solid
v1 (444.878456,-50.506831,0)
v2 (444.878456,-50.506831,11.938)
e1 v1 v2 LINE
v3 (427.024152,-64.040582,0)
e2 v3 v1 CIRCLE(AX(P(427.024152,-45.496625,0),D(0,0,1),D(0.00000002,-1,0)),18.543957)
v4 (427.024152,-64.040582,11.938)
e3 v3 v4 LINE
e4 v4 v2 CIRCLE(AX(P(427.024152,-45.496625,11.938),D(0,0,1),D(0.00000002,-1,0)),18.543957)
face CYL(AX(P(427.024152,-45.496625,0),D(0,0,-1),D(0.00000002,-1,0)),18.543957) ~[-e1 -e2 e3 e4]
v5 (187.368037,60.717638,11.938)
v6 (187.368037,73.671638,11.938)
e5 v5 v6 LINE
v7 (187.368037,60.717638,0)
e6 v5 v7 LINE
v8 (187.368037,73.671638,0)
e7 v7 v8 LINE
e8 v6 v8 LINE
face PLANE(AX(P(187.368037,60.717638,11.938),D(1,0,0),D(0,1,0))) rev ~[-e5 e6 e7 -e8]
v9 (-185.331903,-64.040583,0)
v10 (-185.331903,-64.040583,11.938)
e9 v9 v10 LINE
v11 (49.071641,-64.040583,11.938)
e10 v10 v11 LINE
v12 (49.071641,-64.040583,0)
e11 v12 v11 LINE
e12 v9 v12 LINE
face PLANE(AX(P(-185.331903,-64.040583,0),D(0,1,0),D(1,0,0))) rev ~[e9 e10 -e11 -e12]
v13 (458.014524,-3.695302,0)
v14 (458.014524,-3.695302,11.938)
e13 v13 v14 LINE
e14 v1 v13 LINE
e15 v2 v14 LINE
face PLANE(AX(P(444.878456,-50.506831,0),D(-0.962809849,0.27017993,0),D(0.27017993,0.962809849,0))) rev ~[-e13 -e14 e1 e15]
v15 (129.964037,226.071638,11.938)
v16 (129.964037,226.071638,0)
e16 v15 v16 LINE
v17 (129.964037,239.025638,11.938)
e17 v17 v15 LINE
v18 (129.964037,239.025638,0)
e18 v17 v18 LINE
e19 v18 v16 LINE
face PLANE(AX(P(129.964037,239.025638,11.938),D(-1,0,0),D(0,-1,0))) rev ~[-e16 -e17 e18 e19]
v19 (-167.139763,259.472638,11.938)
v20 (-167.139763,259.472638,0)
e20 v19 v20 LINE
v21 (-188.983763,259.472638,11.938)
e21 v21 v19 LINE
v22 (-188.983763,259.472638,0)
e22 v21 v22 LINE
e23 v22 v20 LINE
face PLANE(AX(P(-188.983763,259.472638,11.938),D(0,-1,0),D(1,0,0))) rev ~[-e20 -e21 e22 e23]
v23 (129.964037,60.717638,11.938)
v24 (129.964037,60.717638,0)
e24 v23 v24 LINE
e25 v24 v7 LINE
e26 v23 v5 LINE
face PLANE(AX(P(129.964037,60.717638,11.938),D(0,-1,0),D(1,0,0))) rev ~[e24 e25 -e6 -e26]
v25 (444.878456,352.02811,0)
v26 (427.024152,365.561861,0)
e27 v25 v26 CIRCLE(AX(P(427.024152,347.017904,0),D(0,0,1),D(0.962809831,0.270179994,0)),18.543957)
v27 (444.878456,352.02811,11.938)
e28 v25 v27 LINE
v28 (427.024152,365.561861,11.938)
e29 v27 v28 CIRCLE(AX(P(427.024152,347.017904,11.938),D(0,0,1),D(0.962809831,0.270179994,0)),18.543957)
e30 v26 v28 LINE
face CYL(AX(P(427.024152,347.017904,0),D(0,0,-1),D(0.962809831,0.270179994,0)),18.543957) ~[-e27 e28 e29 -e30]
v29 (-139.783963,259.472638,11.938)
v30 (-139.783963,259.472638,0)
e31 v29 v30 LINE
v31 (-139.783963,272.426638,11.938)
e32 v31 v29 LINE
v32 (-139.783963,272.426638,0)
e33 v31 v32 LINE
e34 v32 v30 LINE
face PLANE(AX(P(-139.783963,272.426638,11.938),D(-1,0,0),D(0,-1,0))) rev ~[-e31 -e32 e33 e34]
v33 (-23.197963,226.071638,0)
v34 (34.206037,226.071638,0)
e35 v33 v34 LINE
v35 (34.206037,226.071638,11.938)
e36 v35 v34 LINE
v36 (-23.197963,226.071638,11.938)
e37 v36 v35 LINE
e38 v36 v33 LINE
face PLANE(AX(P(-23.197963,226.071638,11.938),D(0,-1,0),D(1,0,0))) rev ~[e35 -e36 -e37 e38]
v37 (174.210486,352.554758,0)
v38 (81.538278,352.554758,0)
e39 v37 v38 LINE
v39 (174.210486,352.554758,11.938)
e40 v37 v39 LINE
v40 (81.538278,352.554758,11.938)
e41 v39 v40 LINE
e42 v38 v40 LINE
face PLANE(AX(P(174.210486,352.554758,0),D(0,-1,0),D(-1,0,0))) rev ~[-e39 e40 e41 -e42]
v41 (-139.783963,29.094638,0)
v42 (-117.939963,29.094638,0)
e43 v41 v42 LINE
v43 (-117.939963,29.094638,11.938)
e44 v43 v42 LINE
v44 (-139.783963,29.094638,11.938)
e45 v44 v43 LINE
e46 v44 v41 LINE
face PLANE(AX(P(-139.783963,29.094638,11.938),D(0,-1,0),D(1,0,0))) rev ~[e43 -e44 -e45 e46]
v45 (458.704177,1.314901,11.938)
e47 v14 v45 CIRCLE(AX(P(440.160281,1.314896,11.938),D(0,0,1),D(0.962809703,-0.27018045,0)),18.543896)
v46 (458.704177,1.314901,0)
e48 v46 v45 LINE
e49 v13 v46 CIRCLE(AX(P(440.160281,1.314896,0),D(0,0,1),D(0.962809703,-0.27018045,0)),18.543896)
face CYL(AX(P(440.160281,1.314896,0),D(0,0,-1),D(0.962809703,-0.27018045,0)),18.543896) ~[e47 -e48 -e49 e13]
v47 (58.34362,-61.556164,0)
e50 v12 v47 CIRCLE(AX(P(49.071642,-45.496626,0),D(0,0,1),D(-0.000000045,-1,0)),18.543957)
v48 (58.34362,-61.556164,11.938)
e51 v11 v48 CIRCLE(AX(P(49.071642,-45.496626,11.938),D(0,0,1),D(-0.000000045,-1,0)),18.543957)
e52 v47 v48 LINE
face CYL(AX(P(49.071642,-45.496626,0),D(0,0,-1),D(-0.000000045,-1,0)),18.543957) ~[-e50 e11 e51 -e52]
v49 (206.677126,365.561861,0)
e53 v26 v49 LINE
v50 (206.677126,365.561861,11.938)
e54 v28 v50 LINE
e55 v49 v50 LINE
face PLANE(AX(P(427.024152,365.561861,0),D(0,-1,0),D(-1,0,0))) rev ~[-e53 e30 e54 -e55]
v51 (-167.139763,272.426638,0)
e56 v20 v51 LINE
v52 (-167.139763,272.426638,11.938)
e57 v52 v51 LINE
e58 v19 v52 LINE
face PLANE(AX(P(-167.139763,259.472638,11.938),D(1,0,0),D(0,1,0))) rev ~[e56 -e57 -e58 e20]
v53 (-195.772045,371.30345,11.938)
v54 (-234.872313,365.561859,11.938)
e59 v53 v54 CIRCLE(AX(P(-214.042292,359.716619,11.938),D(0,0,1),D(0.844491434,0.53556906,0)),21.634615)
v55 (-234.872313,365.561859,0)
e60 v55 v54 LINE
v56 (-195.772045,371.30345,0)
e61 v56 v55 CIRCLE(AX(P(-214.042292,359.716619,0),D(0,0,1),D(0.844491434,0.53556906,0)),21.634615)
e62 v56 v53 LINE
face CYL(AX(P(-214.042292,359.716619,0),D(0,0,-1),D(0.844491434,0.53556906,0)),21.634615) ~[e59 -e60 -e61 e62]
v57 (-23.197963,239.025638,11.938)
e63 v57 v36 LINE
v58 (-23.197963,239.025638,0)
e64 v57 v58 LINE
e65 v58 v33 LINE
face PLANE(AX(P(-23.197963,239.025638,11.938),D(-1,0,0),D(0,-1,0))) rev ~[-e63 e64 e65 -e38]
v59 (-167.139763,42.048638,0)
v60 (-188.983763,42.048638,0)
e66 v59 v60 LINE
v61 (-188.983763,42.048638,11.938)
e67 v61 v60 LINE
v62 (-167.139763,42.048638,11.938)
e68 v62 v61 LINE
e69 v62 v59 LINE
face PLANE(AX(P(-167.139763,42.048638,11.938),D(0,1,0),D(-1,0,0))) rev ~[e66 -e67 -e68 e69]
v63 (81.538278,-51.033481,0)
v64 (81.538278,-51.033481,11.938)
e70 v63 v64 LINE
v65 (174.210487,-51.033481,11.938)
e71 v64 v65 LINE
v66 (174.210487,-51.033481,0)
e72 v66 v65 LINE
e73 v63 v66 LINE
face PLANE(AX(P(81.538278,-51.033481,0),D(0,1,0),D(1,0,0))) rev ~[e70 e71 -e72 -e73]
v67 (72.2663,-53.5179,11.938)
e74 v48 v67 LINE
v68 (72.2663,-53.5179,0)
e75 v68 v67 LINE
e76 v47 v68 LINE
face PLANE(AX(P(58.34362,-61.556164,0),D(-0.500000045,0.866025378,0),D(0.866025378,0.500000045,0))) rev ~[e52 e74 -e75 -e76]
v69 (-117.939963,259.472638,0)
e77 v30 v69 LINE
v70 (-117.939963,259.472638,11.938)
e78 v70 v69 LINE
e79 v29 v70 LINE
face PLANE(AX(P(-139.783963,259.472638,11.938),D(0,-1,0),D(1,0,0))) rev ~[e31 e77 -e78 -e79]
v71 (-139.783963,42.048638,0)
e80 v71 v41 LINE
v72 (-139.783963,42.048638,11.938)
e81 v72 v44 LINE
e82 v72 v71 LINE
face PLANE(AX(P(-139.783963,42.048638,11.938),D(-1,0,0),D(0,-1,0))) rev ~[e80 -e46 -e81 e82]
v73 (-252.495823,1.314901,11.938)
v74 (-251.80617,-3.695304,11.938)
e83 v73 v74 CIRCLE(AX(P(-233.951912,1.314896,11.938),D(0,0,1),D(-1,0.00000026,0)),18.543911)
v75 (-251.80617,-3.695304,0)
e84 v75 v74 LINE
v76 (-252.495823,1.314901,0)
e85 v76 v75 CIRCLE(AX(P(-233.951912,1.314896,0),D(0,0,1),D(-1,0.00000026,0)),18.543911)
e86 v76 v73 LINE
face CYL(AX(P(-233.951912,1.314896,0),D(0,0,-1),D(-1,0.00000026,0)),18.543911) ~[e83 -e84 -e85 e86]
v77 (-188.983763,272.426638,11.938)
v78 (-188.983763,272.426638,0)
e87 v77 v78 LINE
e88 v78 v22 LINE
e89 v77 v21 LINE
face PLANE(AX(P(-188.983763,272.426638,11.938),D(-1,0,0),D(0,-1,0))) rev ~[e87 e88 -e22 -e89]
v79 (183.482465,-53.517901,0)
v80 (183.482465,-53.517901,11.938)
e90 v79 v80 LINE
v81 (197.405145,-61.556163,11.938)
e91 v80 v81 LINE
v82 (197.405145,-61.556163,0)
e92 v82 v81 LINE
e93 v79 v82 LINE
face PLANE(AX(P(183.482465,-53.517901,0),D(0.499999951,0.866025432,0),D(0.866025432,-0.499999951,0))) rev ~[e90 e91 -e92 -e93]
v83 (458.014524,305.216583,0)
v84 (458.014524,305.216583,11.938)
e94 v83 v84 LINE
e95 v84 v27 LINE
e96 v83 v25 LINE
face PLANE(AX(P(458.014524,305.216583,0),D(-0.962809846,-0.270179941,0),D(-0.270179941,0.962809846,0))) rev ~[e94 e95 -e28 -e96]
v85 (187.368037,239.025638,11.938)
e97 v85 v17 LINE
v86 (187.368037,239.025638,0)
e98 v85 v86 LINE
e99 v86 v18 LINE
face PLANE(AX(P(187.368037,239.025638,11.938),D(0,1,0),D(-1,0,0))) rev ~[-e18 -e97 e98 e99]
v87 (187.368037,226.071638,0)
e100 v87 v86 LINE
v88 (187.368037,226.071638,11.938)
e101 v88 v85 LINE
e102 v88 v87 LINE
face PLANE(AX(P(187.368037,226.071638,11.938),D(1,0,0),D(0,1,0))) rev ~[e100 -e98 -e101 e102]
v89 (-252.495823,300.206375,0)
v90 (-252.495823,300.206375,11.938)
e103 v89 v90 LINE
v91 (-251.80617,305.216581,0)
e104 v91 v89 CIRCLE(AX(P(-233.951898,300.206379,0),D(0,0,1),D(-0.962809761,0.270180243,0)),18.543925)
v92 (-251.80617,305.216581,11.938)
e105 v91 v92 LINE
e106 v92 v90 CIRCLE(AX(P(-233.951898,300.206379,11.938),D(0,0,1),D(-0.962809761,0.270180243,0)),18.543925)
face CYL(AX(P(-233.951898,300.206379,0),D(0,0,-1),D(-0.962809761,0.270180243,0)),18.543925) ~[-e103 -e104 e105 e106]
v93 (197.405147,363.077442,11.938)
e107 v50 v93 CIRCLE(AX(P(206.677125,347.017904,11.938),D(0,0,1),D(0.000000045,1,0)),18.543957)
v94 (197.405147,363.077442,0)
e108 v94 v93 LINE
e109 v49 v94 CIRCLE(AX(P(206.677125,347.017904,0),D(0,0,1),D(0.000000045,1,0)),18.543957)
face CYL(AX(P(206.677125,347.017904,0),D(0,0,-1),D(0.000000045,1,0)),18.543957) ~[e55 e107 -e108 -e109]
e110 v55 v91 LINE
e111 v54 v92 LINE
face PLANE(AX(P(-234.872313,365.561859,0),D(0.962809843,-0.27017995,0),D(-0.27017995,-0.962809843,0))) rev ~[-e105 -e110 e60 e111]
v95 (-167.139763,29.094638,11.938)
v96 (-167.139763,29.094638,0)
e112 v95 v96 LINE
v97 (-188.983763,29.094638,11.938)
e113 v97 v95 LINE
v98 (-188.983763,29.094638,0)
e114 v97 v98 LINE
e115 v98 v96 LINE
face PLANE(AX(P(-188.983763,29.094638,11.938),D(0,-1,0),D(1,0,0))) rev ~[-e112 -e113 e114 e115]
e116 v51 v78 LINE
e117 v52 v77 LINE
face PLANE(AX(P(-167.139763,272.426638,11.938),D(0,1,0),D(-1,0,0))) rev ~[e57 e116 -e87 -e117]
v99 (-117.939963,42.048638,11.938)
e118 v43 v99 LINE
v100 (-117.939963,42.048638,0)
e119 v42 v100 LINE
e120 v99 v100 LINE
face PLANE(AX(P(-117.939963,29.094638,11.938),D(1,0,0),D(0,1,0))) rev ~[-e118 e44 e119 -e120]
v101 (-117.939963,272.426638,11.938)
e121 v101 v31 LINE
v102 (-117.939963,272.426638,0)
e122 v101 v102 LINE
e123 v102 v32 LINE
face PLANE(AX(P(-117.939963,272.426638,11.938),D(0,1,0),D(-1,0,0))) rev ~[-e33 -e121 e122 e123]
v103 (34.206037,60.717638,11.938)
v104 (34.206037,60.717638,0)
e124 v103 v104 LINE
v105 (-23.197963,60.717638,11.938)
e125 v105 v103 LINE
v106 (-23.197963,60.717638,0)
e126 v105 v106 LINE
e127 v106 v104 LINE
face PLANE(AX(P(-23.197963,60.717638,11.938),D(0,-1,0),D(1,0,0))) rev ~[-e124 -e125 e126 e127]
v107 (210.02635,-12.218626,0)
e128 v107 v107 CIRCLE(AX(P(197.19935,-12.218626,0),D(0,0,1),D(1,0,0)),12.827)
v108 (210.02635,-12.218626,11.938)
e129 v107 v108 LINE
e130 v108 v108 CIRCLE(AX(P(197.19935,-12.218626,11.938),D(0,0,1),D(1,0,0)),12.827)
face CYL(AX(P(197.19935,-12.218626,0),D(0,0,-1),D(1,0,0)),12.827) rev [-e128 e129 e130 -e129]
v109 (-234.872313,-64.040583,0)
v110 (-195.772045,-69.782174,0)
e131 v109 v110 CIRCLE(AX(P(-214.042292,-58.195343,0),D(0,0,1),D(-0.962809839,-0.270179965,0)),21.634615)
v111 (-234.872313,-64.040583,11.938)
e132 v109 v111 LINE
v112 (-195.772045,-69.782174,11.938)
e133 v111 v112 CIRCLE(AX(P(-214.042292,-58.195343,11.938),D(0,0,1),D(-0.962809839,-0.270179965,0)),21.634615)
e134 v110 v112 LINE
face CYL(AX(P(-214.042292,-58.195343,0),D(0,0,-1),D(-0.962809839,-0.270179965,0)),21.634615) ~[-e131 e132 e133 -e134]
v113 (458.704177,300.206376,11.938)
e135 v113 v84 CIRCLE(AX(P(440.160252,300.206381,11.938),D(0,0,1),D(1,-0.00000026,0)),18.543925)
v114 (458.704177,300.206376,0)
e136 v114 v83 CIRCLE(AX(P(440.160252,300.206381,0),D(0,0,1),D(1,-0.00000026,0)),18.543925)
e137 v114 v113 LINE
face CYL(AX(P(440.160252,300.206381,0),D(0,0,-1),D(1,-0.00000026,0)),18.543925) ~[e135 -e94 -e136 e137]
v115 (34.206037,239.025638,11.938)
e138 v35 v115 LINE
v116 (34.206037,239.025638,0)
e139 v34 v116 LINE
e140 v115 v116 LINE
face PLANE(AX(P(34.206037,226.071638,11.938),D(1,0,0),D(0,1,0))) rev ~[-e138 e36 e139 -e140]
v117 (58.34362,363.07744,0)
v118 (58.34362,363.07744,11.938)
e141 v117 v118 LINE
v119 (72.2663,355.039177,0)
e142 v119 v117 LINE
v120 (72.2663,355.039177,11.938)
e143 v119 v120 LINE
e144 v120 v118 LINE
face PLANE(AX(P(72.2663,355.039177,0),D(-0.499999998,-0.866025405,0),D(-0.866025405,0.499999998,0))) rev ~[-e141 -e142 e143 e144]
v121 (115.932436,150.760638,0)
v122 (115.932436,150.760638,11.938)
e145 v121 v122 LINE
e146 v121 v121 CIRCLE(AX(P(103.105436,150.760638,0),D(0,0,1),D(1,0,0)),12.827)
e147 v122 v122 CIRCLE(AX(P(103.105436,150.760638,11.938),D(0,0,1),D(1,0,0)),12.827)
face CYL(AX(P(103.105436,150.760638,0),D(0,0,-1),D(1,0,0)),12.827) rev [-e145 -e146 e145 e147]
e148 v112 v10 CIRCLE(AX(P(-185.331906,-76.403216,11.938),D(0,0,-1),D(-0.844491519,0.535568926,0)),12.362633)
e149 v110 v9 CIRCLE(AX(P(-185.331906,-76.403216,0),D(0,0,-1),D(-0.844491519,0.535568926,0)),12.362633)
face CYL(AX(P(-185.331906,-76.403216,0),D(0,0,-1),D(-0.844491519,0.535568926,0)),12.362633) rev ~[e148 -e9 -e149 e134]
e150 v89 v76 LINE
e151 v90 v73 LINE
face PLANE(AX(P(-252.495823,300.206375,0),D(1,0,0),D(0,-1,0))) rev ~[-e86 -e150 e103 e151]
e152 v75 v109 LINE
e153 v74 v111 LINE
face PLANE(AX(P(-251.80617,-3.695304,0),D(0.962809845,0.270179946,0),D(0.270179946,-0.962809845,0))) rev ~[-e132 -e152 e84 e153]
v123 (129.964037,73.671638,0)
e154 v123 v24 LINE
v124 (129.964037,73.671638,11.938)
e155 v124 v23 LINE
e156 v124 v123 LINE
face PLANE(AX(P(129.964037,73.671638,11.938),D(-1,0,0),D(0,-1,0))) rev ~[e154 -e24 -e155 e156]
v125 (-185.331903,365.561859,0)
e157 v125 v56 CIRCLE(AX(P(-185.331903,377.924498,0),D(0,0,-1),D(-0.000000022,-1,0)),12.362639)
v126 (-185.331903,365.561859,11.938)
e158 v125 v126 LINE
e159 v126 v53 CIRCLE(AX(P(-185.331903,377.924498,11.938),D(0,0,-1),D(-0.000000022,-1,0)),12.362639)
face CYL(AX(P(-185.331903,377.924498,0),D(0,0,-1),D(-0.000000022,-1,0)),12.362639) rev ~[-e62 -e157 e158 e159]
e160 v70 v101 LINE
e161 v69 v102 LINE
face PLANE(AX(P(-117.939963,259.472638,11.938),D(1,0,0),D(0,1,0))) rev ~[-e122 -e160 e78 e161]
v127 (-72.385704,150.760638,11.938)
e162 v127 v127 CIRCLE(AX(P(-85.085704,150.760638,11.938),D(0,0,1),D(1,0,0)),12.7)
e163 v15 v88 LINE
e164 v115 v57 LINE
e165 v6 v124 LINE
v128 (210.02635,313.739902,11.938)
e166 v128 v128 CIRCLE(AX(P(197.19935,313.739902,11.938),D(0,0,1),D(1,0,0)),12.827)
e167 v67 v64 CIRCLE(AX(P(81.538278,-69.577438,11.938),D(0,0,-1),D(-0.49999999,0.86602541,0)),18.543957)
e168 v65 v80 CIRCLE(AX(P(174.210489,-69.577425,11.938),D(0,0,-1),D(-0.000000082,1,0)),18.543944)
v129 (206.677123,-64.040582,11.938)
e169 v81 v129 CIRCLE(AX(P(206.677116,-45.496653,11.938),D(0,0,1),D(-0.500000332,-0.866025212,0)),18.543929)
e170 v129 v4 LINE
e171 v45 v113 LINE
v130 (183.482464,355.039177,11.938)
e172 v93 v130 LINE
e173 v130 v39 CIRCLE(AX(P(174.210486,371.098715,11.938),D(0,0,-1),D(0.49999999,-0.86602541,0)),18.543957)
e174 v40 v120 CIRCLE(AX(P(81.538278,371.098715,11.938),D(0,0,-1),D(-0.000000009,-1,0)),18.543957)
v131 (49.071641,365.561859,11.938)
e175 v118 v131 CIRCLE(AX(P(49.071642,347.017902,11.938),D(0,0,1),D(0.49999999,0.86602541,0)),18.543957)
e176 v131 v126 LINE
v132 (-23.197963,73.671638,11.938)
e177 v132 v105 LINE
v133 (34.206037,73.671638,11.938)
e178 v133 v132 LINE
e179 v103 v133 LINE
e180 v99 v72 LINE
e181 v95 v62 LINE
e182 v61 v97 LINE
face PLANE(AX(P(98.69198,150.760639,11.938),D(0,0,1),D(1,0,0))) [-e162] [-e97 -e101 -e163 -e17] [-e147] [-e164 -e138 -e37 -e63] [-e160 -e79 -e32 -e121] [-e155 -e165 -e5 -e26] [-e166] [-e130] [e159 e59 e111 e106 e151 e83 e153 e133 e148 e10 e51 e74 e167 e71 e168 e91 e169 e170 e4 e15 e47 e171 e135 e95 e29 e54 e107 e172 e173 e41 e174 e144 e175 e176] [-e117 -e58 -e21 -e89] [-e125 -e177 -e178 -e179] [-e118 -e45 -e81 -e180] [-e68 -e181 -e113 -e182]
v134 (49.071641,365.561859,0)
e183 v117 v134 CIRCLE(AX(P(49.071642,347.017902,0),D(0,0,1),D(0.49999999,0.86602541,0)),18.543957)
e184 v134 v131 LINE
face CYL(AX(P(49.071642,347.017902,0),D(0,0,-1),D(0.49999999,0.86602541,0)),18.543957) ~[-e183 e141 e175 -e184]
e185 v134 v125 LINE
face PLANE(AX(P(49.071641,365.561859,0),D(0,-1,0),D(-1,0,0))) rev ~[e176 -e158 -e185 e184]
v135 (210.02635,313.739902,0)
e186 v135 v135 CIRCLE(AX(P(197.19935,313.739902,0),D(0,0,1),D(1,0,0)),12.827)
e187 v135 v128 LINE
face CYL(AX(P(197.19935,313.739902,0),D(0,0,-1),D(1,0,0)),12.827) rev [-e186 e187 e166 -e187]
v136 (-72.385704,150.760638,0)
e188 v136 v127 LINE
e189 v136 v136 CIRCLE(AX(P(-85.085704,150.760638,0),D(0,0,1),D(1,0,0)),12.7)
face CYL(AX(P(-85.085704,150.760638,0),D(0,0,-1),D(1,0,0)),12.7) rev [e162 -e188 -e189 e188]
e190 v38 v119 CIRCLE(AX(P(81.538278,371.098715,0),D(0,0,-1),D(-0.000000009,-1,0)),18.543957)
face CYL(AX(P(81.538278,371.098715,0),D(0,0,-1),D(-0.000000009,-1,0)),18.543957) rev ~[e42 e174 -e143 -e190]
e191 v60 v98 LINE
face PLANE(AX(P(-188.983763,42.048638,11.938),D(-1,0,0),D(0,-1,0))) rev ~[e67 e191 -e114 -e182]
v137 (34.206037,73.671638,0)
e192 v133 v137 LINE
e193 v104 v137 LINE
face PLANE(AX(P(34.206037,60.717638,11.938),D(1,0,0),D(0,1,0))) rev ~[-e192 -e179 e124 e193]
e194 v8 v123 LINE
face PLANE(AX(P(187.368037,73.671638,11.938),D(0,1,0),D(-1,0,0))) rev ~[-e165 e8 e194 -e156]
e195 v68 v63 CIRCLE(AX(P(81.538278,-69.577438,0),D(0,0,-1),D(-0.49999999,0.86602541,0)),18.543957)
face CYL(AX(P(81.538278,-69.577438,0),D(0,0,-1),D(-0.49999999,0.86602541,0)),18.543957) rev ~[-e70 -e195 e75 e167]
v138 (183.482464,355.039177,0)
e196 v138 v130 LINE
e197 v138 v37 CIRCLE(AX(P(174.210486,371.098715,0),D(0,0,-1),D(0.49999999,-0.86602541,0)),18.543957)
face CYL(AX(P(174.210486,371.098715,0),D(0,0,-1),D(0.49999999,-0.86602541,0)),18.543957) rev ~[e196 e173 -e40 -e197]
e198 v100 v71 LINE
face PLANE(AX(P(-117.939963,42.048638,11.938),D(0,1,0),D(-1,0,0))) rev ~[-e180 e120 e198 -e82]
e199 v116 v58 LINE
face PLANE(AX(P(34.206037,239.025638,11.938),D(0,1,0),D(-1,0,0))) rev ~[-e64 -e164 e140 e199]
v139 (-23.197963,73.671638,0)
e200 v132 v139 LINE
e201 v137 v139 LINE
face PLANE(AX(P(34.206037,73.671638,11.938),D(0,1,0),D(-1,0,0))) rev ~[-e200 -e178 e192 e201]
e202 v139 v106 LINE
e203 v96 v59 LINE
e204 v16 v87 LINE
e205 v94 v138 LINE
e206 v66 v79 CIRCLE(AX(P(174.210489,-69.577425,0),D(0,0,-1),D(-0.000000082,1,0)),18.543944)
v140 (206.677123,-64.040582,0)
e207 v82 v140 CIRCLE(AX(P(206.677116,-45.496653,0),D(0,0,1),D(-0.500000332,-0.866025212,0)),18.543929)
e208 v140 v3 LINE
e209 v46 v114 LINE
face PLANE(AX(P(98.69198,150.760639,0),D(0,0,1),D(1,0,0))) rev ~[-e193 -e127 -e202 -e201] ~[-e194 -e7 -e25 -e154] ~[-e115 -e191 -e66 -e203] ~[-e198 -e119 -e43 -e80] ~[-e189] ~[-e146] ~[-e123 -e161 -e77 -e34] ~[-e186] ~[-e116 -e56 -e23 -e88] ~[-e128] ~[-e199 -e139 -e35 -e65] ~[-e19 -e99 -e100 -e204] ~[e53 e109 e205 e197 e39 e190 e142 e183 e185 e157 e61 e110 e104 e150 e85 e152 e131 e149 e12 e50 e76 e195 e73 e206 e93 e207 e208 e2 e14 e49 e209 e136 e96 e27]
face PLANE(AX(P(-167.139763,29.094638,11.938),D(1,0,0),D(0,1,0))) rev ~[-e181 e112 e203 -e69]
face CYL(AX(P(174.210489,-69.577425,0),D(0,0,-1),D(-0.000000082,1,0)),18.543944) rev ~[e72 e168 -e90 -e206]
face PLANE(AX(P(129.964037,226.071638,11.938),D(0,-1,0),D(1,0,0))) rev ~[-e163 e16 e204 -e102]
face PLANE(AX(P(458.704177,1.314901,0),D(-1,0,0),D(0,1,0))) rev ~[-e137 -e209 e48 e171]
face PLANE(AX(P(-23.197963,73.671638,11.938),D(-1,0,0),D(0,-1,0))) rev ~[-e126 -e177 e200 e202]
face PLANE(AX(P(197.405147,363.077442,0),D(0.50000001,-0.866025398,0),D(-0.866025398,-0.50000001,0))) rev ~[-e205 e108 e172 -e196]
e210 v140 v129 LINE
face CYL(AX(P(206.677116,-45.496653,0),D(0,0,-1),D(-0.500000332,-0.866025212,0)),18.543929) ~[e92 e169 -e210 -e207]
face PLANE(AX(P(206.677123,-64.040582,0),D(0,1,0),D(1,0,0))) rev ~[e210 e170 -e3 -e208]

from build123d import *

# Parameters (mm, degrees)
F0_R     = 12.7
F0_R_2   = 12.827
F1_DEPTH = 11.938
F3_DEPTH = 25.4
F5_DEPTH = 25.4


with BuildPart() as f1:
    # F0 (on Top) → F1 (new body)
    with BuildSketch(Plane.XY):
        with BuildLine():
            Line((58.34362, -61.556164), (72.2663, -53.5179))
            ThreePointArc((72.2663, -53.5179), (76.738749, -51.665351), (81.538278, -51.033481))
            Line((81.538278, -51.033481), (174.210487, -51.033481))
            ThreePointArc((174.210487, -51.033481), (179.010016, -51.665351), (183.482465, -53.517901))
            Line((183.482465, -53.517901), (197.405145, -61.556163))
            ThreePointArc((197.405145, -61.556163), (201.877594, -63.408713), (206.677123, -64.040582))
            Line((206.677123, -64.040582), (427.024152, -64.040582))
            ThreePointArc((427.024152, -64.040582), (438.226145, -60.274774), (444.878456, -50.506831))
            Line((444.878456, -50.506831), (458.014524, -3.695302))
            ThreePointArc((458.014524, -3.695302), (458.530955, -1.213822), (458.704177, 1.314901))
            Line((458.704177, 1.314901), (458.704177, 19.696639))
            Line((458.704177, 19.696639), (458.704177, 281.824639))
            Line((458.704177, 281.824639), (458.704177, 300.206376))
            ThreePointArc((458.704177, 300.206376), (458.530955, 302.735101), (458.014524, 305.216583))
            Line((458.014524, 305.216583), (444.878456, 352.02811))
            ThreePointArc((444.878456, 352.02811), (438.226145, 361.796053), (427.024152, 365.561861))
            Line((427.024152, 365.561861), (206.677126, 365.561861))
            ThreePointArc((206.677126, 365.561861), (201.877596, 364.929991), (197.405147, 363.077442))
            Line((197.405147, 363.077442), (183.482464, 355.039177))
            ThreePointArc((183.482464, 355.039177), (179.010015, 353.186628), (174.210486, 352.554758))
            Line((174.210486, 352.554758), (81.538278, 352.554758))
            ThreePointArc((81.538278, 352.554758), (76.738749, 353.186628), (72.2663, 355.039177))
            Line((72.2663, 355.039177), (58.34362, 363.07744))
            ThreePointArc((58.34362, 363.07744), (53.871171, 364.929989), (49.071641, 365.561859))
            Line((49.071641, 365.561859), (-185.331903, 365.561859))
            ThreePointArc((-185.331903, 365.561859), (-191.289303, 367.091944), (-195.772045, 371.30345))
            ThreePointArc((-195.772045, 371.30345), (-217.185472, 381.121689), (-234.872313, 365.561859))
            Line((-234.872313, 365.561859), (-251.80617, 305.216581))
            ThreePointArc((-251.80617, 305.216581), (-252.322601, 302.735099), (-252.495823, 300.206375))
            Line((-252.495823, 300.206375), (-252.495823, 281.82464))
            Line((-252.495823, 281.82464), (-252.495823, 19.69664))
            Line((-252.495823, 19.69664), (-252.495823, 1.314901))
            ThreePointArc((-252.495823, 1.314901), (-252.322601, -1.213823), (-251.80617, -3.695304))
            Line((-251.80617, -3.695304), (-234.872313, -64.040583))
            ThreePointArc((-234.872313, -64.040583), (-217.185472, -79.600413), (-195.772045, -69.782174))
            ThreePointArc((-195.772045, -69.782174), (-191.289303, -65.570667), (-185.331903, -64.040583))
            Line((-185.331903, -64.040583), (49.071641, -64.040583))
            ThreePointArc((49.071641, -64.040583), (53.871171, -63.408713), (58.34362, -61.556164))
        make_face()
        with Locations((-85.085704, 150.760638)):
            Circle(F0_R, mode=Mode.SUBTRACT)
        with Locations((197.19935, -12.218626)):
            Circle(F0_R_2, mode=Mode.SUBTRACT)
        with Locations((103.105436, 150.760638)):
            Circle(F0_R_2, mode=Mode.SUBTRACT)
        with Locations((197.19935, 313.739902)):
            Circle(F0_R_2, mode=Mode.SUBTRACT)
    extrude(amount=F1_DEPTH)

    # F2 (on face) → F3 (cut)
    with BuildSketch(Plane.XY.offset(11.938)):
        Polygon((-170.314763, 272.426638), (-185.808763, 272.426638), (-188.983763, 272.426638), (-188.983763, 259.472638), (-185.808763, 259.472638), (-170.314763, 259.472638), (-167.139763, 259.472638), (-167.139763, 272.426638), align=None)
        Polygon((-136.608963, 259.472638), (-121.114963, 259.472638), (-117.939963, 259.472638), (-117.939963, 272.426638), (-121.114963, 272.426638), (-136.608963, 272.426638), (-139.783963, 272.426638), (-139.783963, 259.472638), align=None)
        Polygon((-188.983763, 29.094638), (-185.808763, 29.094638), (-170.314763, 29.094638), (-167.139763, 29.094638), (-167.139763, 42.048638), (-170.314763, 42.048638), (-185.808763, 42.048638), (-188.983763, 42.048638), align=None)
        Polygon((-117.939963, 42.048638), (-121.114963, 42.048638), (-136.608963, 42.048638), (-139.783963, 42.048638), (-139.783963, 29.094638), (-136.608963, 29.094638), (-121.114963, 29.094638), (-117.939963, 29.094638), align=None)
    extrude(amount=-F3_DEPTH, mode=Mode.SUBTRACT)

    # F4 (on face) → F5 (cut)
    with BuildSketch(Plane.XY.offset(11.938)):
        Polygon((31.031037, 73.671638), (-20.022963, 73.671638), (-23.197963, 73.671638), (-23.197963, 60.717638), (-20.022963, 60.717638), (31.031037, 60.717638), (34.206037, 60.717638), (34.206037, 73.671638), align=None)
        Polygon((187.368037, 73.671638), (184.193037, 73.671638), (133.139037, 73.671638), (129.964037, 73.671638), (129.964037, 60.717638), (133.139037, 60.717638), (184.193037, 60.717638), (187.368037, 60.717638), align=None)
        Polygon((-23.197963, 226.071638), (-20.022963, 226.071638), (31.031037, 226.071638), (34.206037, 226.071638), (34.206037, 239.025638), (31.031037, 239.025638), (-20.022963, 239.025638), (-23.197963, 239.025638), align=None)
        Polygon((133.139037, 226.071638), (184.193037, 226.071638), (187.368037, 226.071638), (187.368037, 239.025638), (184.193037, 239.025638), (133.139037, 239.025638), (129.964037, 239.025638), (129.964037, 226.071638), align=None)
    extrude(amount=-F5_DEPTH, mode=Mode.SUBTRACT)


solid = f1.part
